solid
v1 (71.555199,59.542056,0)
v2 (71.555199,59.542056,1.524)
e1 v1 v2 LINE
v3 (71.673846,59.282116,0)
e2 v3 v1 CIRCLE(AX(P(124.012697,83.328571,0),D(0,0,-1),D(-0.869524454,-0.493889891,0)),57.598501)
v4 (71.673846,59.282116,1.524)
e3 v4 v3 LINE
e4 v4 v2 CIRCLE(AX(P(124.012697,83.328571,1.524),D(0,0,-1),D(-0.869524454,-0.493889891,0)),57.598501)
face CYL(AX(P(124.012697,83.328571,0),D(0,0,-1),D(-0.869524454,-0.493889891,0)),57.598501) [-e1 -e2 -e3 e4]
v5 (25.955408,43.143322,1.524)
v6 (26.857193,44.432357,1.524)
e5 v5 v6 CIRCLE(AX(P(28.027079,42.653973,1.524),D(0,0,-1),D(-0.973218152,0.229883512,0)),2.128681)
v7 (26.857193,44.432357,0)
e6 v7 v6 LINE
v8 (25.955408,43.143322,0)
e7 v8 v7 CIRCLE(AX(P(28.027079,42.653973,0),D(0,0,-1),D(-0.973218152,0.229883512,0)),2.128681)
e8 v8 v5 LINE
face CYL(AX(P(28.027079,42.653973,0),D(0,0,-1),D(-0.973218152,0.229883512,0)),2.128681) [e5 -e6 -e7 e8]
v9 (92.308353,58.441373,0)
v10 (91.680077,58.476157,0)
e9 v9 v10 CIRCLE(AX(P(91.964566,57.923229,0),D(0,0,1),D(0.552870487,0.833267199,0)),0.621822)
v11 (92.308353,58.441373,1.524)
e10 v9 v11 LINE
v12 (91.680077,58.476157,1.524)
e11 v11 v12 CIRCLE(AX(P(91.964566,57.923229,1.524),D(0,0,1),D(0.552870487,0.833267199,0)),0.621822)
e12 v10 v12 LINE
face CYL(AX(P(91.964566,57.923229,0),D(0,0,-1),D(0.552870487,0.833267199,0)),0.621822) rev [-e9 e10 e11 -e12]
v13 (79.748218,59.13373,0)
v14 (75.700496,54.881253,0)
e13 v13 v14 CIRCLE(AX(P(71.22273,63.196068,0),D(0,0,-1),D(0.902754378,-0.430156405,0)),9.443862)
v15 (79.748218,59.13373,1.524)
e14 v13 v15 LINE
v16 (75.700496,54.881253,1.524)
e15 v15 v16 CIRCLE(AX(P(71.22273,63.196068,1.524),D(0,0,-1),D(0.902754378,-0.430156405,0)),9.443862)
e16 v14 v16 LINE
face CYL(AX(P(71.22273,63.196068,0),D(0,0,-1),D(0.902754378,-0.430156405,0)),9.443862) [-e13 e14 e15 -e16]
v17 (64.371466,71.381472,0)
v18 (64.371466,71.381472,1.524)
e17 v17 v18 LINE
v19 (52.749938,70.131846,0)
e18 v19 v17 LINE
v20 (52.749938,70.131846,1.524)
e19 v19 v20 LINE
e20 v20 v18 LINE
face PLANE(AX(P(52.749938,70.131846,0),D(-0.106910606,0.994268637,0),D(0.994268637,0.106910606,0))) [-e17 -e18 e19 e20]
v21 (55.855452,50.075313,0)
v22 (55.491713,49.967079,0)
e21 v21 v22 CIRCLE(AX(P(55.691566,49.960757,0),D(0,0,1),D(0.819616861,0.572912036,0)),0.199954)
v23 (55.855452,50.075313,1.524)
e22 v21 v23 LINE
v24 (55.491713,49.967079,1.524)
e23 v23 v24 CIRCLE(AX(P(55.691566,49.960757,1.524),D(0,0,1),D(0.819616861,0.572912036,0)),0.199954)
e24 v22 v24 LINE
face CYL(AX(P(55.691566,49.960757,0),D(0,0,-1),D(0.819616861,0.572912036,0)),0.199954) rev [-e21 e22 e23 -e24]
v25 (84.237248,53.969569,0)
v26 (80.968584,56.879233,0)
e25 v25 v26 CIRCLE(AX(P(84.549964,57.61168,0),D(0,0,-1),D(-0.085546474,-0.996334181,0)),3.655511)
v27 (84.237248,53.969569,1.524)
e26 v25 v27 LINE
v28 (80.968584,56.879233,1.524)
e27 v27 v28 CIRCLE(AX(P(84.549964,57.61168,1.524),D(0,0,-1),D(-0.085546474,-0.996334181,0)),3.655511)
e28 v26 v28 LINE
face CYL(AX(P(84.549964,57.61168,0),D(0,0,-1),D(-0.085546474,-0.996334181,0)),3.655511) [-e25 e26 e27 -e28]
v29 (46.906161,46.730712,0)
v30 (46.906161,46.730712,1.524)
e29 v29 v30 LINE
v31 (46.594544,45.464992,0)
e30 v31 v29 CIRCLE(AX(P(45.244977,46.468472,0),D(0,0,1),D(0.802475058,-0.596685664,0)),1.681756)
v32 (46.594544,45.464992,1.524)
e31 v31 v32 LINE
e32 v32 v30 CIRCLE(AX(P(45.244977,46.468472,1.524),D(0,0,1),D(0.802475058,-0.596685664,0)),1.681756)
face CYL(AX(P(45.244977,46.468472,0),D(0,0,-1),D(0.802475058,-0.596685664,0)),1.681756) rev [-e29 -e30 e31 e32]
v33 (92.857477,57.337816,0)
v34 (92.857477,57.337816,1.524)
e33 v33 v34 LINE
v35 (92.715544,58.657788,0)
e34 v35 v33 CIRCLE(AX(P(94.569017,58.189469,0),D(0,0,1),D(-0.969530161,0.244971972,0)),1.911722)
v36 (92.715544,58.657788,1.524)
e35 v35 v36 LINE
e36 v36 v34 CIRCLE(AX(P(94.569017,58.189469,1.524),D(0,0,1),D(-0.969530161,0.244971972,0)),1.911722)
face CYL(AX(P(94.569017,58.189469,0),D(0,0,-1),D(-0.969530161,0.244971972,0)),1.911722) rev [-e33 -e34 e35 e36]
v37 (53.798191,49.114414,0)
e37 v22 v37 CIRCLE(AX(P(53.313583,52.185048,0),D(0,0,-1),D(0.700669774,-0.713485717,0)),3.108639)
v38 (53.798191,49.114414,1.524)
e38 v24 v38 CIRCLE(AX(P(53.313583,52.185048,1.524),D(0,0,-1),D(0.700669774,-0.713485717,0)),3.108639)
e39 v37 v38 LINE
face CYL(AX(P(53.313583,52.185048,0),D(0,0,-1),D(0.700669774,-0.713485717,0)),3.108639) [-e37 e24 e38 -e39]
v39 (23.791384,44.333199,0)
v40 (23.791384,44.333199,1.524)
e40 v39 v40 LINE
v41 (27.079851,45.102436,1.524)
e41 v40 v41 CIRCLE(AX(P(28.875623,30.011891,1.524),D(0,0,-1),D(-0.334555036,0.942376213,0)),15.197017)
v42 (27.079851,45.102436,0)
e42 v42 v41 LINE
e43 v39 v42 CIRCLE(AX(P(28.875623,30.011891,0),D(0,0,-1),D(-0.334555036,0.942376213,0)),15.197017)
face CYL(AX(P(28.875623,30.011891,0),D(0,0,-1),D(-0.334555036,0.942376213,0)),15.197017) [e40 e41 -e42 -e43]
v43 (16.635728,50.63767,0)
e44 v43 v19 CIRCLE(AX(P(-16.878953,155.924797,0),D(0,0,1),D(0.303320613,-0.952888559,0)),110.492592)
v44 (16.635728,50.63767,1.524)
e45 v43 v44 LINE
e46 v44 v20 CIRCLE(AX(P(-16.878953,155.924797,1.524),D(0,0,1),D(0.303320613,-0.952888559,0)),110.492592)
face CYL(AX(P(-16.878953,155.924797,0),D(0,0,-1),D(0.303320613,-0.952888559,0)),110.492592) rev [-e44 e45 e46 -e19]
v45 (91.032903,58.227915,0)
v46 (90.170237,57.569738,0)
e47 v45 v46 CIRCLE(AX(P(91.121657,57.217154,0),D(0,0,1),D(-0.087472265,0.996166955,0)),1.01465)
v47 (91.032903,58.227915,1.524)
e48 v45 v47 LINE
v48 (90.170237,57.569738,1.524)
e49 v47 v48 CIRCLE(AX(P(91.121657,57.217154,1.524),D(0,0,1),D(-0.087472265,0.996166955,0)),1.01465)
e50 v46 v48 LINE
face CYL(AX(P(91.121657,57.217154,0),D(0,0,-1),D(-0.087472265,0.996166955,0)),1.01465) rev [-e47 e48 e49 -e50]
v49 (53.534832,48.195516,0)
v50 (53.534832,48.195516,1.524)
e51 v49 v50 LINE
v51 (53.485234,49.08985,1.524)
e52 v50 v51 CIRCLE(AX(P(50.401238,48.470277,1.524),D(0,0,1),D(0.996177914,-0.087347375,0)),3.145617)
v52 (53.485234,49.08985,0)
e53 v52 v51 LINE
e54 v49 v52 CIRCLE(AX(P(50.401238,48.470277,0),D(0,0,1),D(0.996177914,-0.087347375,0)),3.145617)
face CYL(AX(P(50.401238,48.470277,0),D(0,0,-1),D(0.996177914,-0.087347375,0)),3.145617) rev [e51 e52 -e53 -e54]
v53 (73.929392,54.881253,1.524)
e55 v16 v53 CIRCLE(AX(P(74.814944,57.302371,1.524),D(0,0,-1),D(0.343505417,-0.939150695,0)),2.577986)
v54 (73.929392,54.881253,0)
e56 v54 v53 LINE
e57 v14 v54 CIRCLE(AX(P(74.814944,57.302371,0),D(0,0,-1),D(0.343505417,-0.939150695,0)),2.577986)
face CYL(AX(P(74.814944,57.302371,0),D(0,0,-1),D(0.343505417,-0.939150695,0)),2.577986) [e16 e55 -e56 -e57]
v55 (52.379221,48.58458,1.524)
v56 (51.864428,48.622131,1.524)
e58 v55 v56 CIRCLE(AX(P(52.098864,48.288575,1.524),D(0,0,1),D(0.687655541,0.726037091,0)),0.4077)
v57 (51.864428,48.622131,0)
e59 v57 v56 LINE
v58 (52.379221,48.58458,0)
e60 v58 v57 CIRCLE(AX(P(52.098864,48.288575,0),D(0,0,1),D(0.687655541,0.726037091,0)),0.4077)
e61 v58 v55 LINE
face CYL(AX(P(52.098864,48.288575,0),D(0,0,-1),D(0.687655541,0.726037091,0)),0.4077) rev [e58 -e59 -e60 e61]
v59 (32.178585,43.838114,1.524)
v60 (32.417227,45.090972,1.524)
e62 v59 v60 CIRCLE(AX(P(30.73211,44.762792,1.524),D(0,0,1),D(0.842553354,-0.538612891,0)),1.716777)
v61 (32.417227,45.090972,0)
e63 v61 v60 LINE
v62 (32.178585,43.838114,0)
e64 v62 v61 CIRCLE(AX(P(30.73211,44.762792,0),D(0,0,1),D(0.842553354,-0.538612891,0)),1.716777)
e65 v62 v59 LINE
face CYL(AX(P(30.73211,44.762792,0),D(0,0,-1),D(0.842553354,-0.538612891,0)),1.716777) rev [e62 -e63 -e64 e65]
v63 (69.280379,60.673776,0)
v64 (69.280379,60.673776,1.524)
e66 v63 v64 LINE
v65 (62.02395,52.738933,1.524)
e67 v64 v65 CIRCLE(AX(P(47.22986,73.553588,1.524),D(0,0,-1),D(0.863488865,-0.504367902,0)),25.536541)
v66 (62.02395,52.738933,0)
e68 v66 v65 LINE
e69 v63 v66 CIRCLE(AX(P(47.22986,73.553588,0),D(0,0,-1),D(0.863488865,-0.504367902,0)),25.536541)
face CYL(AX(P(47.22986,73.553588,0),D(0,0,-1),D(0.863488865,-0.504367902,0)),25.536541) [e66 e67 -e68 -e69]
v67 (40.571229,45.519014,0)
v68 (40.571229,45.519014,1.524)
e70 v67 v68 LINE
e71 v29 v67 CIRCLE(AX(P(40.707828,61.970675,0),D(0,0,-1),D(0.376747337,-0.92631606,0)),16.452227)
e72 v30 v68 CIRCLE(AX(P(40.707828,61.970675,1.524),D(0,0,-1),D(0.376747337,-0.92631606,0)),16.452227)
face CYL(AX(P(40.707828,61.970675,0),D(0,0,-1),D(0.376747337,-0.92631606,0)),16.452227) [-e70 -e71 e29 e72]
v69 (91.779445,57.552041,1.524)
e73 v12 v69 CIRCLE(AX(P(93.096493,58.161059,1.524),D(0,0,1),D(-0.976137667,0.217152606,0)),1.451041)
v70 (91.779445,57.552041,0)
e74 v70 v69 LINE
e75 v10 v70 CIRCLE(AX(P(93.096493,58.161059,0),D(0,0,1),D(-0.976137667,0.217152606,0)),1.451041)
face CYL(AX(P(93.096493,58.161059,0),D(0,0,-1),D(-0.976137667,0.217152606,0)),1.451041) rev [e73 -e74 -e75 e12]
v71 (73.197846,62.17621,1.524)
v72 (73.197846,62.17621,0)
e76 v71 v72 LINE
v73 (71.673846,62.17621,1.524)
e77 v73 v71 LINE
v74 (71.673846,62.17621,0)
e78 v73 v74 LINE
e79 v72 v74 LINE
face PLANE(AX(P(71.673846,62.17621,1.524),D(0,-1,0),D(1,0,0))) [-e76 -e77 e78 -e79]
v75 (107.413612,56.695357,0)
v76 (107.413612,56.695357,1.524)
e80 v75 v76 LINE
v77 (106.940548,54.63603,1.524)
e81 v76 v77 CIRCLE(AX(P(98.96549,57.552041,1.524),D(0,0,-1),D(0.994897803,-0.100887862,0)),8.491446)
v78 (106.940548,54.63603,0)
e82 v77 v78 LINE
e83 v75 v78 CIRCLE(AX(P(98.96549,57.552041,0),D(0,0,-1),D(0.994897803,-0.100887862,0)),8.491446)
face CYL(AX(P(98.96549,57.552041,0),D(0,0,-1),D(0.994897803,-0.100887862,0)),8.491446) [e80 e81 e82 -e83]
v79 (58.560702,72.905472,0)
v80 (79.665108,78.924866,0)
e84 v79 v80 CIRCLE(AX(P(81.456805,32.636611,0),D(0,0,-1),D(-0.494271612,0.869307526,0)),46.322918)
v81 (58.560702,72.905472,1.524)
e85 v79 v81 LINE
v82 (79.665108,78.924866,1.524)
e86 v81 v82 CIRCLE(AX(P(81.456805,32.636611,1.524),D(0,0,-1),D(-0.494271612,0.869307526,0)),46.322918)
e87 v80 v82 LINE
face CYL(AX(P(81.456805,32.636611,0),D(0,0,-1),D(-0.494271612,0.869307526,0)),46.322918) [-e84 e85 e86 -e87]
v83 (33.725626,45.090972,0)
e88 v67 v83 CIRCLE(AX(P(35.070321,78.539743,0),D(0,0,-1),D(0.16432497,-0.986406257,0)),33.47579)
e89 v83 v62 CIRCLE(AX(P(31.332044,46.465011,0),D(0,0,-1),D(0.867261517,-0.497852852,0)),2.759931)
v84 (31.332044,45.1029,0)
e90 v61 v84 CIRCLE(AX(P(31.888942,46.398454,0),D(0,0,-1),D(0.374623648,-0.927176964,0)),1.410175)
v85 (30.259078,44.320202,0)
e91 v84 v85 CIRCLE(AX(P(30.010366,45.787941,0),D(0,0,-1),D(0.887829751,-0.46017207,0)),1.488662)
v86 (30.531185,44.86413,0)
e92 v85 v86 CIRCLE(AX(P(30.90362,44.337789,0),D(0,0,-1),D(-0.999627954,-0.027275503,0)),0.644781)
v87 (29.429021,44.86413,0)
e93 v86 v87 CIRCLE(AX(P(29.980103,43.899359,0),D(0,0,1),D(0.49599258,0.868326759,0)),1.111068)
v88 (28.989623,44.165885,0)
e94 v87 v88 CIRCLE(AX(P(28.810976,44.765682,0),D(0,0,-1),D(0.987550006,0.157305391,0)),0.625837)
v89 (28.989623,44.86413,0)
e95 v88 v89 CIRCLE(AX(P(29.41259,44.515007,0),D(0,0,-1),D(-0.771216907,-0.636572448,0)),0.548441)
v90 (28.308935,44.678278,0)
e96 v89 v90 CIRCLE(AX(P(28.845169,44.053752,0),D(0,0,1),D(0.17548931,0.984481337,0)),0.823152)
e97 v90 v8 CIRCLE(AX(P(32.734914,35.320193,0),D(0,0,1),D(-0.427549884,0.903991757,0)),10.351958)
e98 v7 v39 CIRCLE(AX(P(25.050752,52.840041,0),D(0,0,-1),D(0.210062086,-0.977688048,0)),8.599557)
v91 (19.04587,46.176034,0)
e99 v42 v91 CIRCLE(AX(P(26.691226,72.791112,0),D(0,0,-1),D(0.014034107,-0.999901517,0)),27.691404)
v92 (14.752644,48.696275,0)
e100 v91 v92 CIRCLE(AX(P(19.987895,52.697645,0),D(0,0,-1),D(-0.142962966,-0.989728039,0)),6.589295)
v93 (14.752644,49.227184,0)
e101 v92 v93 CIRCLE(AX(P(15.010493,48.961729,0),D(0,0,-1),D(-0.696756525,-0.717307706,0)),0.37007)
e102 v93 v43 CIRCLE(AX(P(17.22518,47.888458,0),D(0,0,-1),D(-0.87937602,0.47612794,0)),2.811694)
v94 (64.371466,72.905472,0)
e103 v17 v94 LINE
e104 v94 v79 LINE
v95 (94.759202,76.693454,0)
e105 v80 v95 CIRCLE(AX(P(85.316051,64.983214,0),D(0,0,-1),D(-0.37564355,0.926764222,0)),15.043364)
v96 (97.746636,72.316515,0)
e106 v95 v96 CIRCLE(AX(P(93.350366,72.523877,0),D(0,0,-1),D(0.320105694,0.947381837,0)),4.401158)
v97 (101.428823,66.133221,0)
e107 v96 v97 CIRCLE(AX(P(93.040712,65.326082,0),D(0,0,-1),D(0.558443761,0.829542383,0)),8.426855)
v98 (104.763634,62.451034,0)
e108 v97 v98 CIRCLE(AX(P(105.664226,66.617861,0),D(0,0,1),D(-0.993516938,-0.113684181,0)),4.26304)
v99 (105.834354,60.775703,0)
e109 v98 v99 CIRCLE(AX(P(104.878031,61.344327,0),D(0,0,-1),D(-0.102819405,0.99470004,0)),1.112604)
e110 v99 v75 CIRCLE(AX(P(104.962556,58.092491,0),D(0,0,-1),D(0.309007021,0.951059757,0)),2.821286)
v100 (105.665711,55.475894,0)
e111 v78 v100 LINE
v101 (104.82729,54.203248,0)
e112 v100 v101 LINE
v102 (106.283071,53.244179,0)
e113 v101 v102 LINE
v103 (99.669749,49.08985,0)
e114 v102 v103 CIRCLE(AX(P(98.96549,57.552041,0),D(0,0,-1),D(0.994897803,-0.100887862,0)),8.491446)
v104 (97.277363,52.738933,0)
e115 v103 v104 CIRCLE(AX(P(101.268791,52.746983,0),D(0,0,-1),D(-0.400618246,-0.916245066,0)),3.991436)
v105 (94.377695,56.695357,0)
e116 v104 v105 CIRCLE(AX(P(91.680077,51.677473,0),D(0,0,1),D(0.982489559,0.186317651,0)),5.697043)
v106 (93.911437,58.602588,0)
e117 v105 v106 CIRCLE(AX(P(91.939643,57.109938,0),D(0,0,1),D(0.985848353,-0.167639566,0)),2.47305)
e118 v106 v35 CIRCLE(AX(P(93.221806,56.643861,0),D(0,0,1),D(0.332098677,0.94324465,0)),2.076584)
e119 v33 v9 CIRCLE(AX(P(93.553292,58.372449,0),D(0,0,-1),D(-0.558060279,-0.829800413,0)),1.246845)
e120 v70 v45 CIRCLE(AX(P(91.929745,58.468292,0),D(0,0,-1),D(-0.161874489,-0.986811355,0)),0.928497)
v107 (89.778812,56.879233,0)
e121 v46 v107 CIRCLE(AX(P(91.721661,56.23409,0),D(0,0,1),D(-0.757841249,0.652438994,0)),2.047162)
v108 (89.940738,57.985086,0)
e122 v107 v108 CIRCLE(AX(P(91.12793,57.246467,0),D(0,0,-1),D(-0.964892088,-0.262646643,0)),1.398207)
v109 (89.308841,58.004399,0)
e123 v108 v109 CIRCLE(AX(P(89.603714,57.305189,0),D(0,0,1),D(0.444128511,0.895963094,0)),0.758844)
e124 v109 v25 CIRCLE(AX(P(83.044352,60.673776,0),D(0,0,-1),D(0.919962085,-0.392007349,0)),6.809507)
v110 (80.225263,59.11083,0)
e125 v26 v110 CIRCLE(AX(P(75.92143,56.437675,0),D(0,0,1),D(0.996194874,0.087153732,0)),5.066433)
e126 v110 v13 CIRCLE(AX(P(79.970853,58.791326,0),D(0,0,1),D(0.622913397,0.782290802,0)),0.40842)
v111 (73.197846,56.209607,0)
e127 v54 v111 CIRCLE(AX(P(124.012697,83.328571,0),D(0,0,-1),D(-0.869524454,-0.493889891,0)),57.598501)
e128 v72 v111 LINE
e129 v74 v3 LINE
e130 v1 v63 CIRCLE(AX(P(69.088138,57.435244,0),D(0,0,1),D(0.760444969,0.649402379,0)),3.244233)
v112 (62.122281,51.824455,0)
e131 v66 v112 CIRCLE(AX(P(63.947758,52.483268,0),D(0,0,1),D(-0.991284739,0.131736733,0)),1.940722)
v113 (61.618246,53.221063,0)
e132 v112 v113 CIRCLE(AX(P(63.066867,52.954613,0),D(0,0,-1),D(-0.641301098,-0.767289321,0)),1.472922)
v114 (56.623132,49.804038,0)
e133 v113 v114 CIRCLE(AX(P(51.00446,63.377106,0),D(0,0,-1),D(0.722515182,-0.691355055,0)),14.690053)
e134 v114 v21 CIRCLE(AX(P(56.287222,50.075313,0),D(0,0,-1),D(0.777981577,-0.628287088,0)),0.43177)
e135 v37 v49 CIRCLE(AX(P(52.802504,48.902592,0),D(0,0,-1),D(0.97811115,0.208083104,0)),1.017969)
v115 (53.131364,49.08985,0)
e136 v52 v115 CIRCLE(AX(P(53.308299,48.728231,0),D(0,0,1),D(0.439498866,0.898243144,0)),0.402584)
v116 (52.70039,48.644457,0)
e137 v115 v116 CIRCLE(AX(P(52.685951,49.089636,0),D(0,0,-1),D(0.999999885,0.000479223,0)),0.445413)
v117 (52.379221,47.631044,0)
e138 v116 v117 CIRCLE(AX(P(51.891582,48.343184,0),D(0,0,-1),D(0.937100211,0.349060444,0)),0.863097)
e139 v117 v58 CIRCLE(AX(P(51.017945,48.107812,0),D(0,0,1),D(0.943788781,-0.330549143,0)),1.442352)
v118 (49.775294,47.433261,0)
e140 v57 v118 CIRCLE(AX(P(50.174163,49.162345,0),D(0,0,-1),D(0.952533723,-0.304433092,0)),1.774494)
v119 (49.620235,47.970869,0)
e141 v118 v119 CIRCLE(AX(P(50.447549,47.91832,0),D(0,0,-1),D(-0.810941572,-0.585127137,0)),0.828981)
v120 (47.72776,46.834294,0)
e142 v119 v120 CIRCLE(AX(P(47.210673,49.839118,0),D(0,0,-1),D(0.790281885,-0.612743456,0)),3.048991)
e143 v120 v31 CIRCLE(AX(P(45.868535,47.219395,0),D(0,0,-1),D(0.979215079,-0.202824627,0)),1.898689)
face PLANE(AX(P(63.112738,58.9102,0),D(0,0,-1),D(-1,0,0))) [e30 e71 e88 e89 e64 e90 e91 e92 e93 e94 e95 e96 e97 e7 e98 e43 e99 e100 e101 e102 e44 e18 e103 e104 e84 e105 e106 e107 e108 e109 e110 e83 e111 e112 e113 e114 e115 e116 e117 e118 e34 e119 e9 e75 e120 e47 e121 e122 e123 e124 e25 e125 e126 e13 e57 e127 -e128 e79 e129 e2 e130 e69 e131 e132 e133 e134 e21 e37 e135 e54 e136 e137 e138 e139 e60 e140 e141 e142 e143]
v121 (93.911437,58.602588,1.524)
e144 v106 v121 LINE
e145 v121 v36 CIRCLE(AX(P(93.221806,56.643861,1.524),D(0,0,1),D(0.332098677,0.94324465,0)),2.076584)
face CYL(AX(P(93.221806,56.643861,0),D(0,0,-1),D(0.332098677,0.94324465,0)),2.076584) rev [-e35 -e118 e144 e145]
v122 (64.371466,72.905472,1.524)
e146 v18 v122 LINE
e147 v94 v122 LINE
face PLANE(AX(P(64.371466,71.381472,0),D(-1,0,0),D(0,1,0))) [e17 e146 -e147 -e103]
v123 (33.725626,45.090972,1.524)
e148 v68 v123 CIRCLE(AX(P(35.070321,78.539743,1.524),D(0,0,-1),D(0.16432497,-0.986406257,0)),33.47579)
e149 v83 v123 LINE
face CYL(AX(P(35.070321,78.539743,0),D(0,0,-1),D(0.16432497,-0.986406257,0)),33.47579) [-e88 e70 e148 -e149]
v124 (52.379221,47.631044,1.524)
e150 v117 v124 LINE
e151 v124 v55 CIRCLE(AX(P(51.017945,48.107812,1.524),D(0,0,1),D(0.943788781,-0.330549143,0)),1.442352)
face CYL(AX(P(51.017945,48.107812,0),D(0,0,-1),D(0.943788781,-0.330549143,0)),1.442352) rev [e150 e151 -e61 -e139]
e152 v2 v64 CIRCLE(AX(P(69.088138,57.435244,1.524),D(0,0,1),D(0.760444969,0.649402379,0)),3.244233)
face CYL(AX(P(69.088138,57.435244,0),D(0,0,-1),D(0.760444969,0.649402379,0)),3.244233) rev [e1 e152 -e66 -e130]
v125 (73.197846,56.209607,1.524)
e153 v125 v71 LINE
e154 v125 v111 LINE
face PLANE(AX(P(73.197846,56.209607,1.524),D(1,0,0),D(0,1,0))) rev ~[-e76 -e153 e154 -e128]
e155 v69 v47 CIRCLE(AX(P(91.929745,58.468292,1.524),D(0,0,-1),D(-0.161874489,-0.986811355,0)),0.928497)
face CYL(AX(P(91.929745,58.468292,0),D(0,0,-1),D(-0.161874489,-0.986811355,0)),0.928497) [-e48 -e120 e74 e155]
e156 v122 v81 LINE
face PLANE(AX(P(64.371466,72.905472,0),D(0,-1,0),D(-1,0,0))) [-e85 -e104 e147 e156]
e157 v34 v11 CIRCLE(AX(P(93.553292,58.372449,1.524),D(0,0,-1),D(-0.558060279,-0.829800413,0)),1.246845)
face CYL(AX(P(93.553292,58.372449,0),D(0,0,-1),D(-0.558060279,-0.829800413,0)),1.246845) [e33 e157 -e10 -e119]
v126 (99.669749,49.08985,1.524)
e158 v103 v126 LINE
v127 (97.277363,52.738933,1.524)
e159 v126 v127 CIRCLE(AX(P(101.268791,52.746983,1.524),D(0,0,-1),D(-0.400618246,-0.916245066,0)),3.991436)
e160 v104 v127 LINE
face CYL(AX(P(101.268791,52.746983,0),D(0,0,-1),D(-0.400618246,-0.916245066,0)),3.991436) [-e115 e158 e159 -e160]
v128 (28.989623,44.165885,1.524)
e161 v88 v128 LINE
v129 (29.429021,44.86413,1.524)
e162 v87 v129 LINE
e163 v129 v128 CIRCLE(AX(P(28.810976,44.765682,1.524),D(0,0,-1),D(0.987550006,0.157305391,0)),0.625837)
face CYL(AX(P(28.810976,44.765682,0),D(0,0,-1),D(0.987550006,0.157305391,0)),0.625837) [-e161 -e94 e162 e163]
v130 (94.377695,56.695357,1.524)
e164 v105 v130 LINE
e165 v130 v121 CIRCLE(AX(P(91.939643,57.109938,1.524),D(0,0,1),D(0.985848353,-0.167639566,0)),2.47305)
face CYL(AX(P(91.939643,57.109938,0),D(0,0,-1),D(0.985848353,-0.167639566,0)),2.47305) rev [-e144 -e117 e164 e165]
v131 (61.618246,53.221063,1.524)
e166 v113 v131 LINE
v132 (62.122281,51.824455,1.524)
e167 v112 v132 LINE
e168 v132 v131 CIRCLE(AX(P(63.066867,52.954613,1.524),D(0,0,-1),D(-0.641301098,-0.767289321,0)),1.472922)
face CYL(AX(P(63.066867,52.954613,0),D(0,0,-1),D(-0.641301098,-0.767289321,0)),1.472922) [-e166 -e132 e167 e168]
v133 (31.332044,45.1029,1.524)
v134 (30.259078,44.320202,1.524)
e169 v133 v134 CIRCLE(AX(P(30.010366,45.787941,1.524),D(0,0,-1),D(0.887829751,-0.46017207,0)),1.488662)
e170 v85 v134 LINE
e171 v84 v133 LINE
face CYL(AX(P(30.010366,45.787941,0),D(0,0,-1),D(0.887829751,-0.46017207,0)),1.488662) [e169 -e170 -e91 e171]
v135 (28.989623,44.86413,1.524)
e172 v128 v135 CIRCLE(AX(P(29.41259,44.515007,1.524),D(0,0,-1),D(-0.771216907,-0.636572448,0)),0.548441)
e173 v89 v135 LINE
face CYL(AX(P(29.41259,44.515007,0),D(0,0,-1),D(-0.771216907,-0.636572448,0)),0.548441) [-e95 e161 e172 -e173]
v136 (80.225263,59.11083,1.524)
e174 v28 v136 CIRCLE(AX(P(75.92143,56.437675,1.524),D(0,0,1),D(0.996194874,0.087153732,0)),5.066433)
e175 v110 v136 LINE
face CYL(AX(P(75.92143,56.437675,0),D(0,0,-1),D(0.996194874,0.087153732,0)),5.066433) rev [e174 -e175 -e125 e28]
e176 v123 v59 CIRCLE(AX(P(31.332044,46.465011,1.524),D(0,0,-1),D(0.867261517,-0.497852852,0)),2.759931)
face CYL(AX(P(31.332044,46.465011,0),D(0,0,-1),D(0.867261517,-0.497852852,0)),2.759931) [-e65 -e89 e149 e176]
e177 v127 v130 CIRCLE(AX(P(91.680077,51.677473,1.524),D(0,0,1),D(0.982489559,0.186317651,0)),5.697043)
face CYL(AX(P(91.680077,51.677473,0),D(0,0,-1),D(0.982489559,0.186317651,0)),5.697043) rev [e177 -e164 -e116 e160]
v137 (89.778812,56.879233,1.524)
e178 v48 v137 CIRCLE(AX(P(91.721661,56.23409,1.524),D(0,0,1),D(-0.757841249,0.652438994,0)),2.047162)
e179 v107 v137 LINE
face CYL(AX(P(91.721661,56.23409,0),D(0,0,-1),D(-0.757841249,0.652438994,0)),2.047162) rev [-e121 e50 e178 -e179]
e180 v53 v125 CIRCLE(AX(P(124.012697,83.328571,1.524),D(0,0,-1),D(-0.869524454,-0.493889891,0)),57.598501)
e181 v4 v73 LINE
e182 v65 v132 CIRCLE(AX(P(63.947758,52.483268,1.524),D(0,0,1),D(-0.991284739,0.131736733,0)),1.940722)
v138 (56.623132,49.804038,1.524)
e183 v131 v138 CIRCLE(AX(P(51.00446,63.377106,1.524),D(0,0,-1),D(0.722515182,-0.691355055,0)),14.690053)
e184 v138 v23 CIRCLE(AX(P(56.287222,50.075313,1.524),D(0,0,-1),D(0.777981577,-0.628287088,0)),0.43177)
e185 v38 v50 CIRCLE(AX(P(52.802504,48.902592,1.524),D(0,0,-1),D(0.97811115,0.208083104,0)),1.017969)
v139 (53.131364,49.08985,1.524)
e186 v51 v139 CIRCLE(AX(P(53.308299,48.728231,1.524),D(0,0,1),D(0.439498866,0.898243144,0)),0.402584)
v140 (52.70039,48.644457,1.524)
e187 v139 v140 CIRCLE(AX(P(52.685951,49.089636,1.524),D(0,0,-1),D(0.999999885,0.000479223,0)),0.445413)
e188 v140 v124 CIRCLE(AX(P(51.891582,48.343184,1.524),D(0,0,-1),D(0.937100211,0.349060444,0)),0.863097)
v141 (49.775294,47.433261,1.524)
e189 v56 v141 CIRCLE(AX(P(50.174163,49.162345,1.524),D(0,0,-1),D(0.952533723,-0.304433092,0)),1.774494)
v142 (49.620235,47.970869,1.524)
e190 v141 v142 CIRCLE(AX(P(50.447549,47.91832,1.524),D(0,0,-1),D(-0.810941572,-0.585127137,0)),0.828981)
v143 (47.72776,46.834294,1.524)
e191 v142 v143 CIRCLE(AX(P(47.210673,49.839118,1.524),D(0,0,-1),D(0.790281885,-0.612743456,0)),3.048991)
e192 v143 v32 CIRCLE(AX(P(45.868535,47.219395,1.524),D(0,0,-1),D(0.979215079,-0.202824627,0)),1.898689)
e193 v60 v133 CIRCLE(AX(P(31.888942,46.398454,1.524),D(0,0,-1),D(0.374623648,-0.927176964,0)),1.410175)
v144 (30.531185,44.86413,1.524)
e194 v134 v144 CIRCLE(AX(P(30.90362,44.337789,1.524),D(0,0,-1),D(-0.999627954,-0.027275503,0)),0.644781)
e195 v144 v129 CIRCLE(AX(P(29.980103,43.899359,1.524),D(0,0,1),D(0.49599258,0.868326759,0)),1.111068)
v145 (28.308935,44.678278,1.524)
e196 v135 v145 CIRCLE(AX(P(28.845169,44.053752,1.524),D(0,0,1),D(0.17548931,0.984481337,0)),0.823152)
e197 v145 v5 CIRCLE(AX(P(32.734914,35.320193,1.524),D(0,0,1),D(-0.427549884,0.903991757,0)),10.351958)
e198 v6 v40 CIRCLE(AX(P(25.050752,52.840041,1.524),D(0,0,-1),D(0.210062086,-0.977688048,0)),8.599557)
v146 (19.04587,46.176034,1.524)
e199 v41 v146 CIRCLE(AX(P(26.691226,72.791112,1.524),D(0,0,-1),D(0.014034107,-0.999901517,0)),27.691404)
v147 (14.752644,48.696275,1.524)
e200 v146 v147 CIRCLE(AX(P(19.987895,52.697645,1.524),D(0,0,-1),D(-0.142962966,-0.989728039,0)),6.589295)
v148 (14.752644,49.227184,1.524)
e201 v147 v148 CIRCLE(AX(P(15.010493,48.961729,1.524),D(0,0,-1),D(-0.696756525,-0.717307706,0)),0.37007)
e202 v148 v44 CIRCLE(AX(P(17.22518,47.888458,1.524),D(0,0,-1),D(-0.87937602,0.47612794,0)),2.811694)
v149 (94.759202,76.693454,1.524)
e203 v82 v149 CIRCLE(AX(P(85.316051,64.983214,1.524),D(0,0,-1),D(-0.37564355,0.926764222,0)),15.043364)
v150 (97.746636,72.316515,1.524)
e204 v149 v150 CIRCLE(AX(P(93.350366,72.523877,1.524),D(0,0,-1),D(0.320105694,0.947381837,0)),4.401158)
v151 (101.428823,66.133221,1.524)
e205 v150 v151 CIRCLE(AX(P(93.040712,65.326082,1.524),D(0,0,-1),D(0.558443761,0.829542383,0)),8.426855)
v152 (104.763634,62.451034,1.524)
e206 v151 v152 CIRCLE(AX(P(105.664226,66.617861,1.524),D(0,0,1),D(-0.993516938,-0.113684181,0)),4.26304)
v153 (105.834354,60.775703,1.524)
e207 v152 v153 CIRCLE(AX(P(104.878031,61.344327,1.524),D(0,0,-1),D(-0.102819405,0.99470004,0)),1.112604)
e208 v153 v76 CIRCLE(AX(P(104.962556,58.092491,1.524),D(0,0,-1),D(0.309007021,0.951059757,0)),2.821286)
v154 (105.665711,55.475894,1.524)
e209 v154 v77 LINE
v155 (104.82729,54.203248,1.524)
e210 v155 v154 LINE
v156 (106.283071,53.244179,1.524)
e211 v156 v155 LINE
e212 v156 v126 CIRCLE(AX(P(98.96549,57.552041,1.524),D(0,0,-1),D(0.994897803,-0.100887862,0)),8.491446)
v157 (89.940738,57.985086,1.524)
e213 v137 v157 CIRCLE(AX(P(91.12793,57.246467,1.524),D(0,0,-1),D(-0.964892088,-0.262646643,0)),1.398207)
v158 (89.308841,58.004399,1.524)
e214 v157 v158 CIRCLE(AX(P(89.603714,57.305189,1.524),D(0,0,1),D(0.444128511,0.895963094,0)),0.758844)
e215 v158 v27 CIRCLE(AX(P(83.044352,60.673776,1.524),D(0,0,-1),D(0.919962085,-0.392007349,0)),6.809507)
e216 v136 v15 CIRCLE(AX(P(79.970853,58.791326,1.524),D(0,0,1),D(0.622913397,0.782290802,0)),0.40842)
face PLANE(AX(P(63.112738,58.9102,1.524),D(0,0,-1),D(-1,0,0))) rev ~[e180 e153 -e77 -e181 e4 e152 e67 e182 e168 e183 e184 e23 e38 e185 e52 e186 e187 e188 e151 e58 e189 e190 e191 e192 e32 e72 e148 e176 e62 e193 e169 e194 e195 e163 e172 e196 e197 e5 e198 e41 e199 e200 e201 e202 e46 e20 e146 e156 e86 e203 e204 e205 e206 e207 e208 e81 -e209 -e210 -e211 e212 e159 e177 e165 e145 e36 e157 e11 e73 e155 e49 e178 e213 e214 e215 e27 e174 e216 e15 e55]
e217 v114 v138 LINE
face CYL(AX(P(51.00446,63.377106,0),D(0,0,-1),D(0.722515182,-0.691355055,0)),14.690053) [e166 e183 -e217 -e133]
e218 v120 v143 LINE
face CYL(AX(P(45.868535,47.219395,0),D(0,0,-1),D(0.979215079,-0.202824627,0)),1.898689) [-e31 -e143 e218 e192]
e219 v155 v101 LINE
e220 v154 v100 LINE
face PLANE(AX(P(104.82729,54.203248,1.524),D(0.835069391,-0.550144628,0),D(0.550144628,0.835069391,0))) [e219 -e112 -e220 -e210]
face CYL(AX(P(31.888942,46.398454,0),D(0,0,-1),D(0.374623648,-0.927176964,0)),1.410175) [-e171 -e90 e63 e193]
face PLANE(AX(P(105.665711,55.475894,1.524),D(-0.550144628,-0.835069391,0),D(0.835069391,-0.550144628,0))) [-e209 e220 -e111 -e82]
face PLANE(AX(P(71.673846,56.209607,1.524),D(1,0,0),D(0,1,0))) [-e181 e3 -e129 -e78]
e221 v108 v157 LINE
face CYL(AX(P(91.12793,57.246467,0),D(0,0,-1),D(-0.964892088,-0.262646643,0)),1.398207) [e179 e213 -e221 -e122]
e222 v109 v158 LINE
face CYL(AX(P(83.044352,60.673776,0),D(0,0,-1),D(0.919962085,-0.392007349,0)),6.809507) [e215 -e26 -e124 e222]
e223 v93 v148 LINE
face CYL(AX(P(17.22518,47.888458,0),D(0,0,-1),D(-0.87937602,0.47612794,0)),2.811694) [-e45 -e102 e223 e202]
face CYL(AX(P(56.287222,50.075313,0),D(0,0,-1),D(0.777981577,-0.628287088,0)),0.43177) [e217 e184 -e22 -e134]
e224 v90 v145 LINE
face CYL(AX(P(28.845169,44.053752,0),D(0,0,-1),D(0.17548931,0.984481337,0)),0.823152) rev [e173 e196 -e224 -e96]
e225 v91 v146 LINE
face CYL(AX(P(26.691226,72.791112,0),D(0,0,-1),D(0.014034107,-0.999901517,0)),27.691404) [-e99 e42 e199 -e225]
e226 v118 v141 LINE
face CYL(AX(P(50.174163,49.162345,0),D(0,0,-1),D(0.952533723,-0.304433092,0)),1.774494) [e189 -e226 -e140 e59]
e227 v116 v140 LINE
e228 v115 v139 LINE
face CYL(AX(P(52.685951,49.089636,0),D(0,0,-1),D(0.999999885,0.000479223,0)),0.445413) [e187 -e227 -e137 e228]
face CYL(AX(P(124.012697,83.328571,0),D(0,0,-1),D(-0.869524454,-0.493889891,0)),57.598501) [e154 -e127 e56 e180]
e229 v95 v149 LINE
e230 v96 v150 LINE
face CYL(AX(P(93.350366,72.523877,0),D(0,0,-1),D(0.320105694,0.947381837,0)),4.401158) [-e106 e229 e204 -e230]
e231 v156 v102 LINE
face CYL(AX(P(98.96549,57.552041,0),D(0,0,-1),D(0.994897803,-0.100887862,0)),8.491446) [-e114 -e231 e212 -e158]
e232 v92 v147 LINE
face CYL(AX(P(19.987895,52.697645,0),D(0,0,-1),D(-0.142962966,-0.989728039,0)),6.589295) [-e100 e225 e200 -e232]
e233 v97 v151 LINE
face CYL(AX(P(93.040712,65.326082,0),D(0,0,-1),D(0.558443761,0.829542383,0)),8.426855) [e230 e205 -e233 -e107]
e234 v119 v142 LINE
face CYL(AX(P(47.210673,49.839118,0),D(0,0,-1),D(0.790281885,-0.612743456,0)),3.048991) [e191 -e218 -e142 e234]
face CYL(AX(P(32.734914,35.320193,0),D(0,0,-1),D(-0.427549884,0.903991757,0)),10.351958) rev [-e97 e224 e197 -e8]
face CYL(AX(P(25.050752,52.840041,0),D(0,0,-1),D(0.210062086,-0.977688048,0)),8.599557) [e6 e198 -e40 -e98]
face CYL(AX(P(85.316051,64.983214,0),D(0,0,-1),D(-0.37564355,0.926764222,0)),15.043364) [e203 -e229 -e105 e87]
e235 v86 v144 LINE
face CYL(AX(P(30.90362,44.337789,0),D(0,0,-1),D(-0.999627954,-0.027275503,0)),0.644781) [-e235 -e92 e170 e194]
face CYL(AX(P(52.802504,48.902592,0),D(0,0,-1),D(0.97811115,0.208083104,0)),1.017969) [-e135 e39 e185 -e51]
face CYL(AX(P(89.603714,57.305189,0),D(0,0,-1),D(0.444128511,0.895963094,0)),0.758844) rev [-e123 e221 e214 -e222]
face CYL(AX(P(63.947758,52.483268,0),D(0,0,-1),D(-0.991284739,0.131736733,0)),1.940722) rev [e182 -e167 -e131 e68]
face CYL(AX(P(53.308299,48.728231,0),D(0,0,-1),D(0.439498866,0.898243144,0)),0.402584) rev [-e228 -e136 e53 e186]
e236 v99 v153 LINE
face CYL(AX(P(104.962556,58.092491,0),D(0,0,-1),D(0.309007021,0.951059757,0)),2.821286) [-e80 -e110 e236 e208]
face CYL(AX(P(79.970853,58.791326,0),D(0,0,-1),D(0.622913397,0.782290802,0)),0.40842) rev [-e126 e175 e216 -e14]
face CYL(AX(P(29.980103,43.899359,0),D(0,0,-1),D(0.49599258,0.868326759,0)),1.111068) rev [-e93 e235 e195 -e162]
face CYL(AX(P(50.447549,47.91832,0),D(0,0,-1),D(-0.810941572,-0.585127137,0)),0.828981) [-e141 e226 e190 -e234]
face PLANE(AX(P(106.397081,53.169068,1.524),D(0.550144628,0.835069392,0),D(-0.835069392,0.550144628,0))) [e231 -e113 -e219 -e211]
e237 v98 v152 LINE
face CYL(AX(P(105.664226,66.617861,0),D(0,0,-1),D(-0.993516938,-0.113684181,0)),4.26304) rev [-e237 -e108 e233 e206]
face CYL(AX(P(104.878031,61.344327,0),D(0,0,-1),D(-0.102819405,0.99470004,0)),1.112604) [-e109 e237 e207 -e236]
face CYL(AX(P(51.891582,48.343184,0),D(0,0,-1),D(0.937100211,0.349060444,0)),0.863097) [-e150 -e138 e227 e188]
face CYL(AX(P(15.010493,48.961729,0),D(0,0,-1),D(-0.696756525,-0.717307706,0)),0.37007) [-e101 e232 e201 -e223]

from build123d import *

# Parameters (mm, degrees)
BOSS_EXTRUDE1_DEPTH = 1.524
SKETCH2_W           = 1.524
SKETCH2_H           = 5.96660367
CUT_EXTRUDE3_DEPTH  = 135.253240476


with BuildPart() as part:
    # Sketch1 → Boss-Extrude1 (new body)
    with BuildSketch(Plane.XY):
        with BuildLine():
            Line((52.749938031, 70.131845749), (64.371465794, 71.381472391))
            Line((64.371465794, 71.381472391), (64.371465794, 72.905472391))
            Line((64.371465794, 72.905472391), (58.560701913, 72.905472391))
            ThreePointArc((58.560701913, 72.905472391), (68.751288874, 77.18302052), (79.665108288, 78.924866217))
            ThreePointArc((79.665108288, 78.924866217), (87.51605356, 79.864840631), (94.759202069, 76.693453987))
            ThreePointArc((94.759202069, 76.693453987), (96.985502082, 75.005001445), (97.746636466, 72.316515219))
            ThreePointArc((97.746636466, 72.316515219), (100.280996817, 69.637712422), (101.428823049, 66.133220769))
            ThreePointArc((101.428823049, 66.133220769), (102.504441665, 63.756169776), (104.763633539, 62.451034186))
            ThreePointArc((104.763633539, 62.451034186), (105.815523966, 61.94348794), (105.834353574, 60.775702811))
            ThreePointArc((105.834353574, 60.775702811), (107.593647808, 59.110829557), (107.413611762, 56.69535731))
            ThreePointArc((107.413611762, 56.69535731), (104.915486102, 51.493806045), (99.669748601, 49.089849838))
            ThreePointArc((99.669748601, 49.089849838), (97.93078373, 50.558543058), (97.277362732, 52.738932839))
            ThreePointArc((97.277362732, 52.738932839), (96.275148178, 55.045205965), (94.377694548, 56.69535731))
            ThreePointArc((94.377694548, 56.69535731), (94.341947265, 57.697226126), (93.911436782, 58.602587774))
            ThreePointArc((93.911436782, 58.602587774), (93.31755476, 58.718236433), (92.715544448, 58.657787675))
            ThreePointArc((92.715544448, 58.657787675), (92.668251349, 57.985085863), (92.857476868, 57.337816162))
            ThreePointArc((92.857476868, 57.337816162), (92.437007408, 57.816991843), (92.308352921, 58.441373075))
            ThreePointArc((92.308352921, 58.441373075), (91.998939648, 58.544100362), (91.680077423, 58.476156637))
            ThreePointArc((91.680077423, 58.476156637), (91.653768646, 58.005927685), (91.779444676, 57.552041185))
            ThreePointArc((91.779444676, 57.552041185), (91.306585055, 57.779976677), (91.03290283, 58.22791512))
            ThreePointArc((91.03290283, 58.22791512), (90.50619799, 58.023829811), (90.170237064, 57.569738347))
            ThreePointArc((90.170237064, 57.569738347), (89.940738286, 57.243637966), (89.778811712, 56.879233065))
            ThreePointArc((89.778811712, 56.879233065), (89.744476135, 57.449042317), (89.940738286, 57.985085863))
            ThreePointArc((89.940738286, 57.985085863), (89.626896453, 58.063679483), (89.308840631, 58.00439924))
            ThreePointArc((89.308840631, 58.00439924), (87.283822401, 55.344960061), (84.23724791, 53.969569406))
            ThreePointArc((84.23724791, 53.969569406), (82.119422653, 54.881253432), (80.968584276, 56.879233065))
            ThreePointArc((80.968584276, 56.879233065), (80.728221934, 58.038765282), (80.225263479, 59.110829557))
            ThreePointArc((80.225263479, 59.110829557), (79.990436789, 59.199276584), (79.74821764, 59.133730156))
            ThreePointArc((79.74821764, 59.133730156), (78.063200875, 56.684963047), (75.700496179, 54.881253432))
            ThreePointArc((75.700496179, 54.881253432), (74.814943925, 54.724384759), (73.92939167, 54.881253432))
            ThreePointArc((73.92939167, 54.881253432), (72.689360724, 57.184690211), (71.555199225, 59.542056419))
            ThreePointArc((71.555199225, 59.542056419), (70.53318823, 60.33987445), (69.280379472, 60.673776077))
            ThreePointArc((69.280379472, 60.673776077), (66.074534091, 56.320096732), (62.023949735, 52.738932839))
            ThreePointArc((62.023949735, 52.738932839), (62.018158819, 52.275784748), (62.122280661, 51.824455233))
            ThreePointArc((62.122280661, 51.824455233), (61.681410811, 52.454602529), (61.618245883, 53.221063245))
            ThreePointArc((61.618245883, 53.221063245), (59.29856558, 51.252524719), (56.623131886, 49.804037512))
            ThreePointArc((56.623131886, 49.804037512), (56.143365032, 49.668212915), (55.855452098, 50.075313269))
            ThreePointArc((55.855452098, 50.075313269), (55.634539123, 50.152406549), (55.491712516, 49.967078524))
            ThreePointArc((55.491712516, 49.967078524), (54.711546462, 49.408479108), (53.79819099, 49.114414214))
            ThreePointArc((53.79819099, 49.114414214), (53.781075658, 48.622130566), (53.534831875, 48.19551584))
            ThreePointArc((53.534831875, 48.19551584), (53.542028616, 48.644457223), (53.48523445, 49.089849838))
            ThreePointArc((53.48523445, 49.089849838), (53.3082991, 49.130815552), (53.13136375, 49.089849838))
            ThreePointArc((53.13136375, 49.089849838), (53.00604404, 48.779905646), (52.700390386, 48.644457223))
            ThreePointArc((52.700390386, 48.644457223), (52.714349204, 48.082434529), (52.379221144, 47.631043855))
            ThreePointArc((52.379221144, 47.631043855), (52.460297524, 48.107812169), (52.379221144, 48.584580484))
            ThreePointArc((52.379221144, 48.584580484), (52.12852371, 48.695194866), (51.864428363, 48.622130566))
            ThreePointArc((51.864428363, 48.622130566), (51.051818187, 47.620090335), (49.775293704, 47.433261089))
            ThreePointArc((49.775293704, 47.433261089), (49.651036263, 47.688587532), (49.62023506, 47.970868935))
            ThreePointArc((49.62023506, 47.970868935), (48.780471907, 47.225294105), (47.727759637, 46.834294287))
            ThreePointArc((47.727759637, 46.834294287), (47.331273993, 46.008852436), (46.594544028, 45.464992092))
            ThreePointArc((46.594544028, 45.464992092), (46.877970347, 46.066432963), (46.906161005, 46.730712185))
            ThreePointArc((46.906161005, 46.730712185), (43.798654282, 45.811386919), (40.571228797, 45.519014346))
            ThreePointArc((40.571228797, 45.519014346), (37.159419224, 45.129203066), (33.725626021, 45.090971596))
            ThreePointArc((33.725626021, 45.090971596), (33.068999074, 44.320201948), (32.178585471, 43.838114389))
            ThreePointArc((32.178585471, 43.838114389), (32.418564973, 44.441560177), (32.417226894, 45.090971596))
            ThreePointArc((32.417226894, 45.090971596), (31.873442168, 44.988363543), (31.332044302, 45.102899962))
            ThreePointArc((31.332044302, 45.102899962), (30.887683341, 44.585264996), (30.259078376, 44.320201948))
            ThreePointArc((30.259078376, 44.320201948), (30.326970235, 44.626264328), (30.531184649, 44.864129748))
            ThreePointArc((30.531184649, 44.864129748), (29.980102952, 45.010427729), (29.429021254, 44.864129748))
            ThreePointArc((29.429021254, 44.864129748), (29.340661001, 44.432357132), (28.989623083, 44.165884794))
            ThreePointArc((28.989623083, 44.165884794), (28.864149038, 44.515007271), (28.989623083, 44.864129748))
            ThreePointArc((28.989623083, 44.864129748), (28.628355518, 44.84783713), (28.30893512, 44.678277961))
            ThreePointArc((28.30893512, 44.678277961), (27.079850519, 43.991023465), (25.955408412, 43.143322074))
            ThreePointArc((25.955408412, 43.143322074), (26.282852866, 43.874201462), (26.857193183, 44.432357132))
            ThreePointArc((26.857193183, 44.432357132), (25.328745526, 44.244978672), (23.791384091, 44.333198545))
            ThreePointArc((23.791384091, 44.333198545), (25.414182464, 44.809450383), (27.079850519, 45.102435547))
            ThreePointArc((27.079850519, 45.102435547), (23.023366565, 45.343696153), (19.045869652, 46.176034458))
            ThreePointArc((19.045869652, 46.176034458), (16.652090777, 47.015108036), (14.752643777, 48.696275152))
            ThreePointArc((14.752643777, 48.696275152), (14.640422349, 48.961729487), (14.752643777, 49.227183822))
            ThreePointArc((14.752643777, 49.227183822), (15.539561177, 50.138860369), (16.635728101, 50.637670147))
            ThreePointArc((16.635728101, 50.637670147), (35.605852794, 58.693330375), (52.749938031, 70.131845749))
        make_face()
    extrude(amount=BOSS_EXTRUDE1_DEPTH)

    # Sketch2 → Cut-Extrude3 (cut, through all)
    with BuildSketch(Plane.XY.offset(1.524)):
        with Locations((72.435845658, 59.192908392)):
            Rectangle(SKETCH2_W, SKETCH2_H)
        Polygon((106.940547802, 54.636029996), (106.397081003, 53.169068481), (104.827290354, 54.203248276), (105.665710767, 55.475894028), align=None)
    extrude(amount=-CUT_EXTRUDE3_DEPTH, mode=Mode.SUBTRACT)


with BuildPart() as cut_extrude3_kept_piece:
    # of the separate pieces the step leaves, the one the design keeps (cut_extrude3_pieces_kept)
    add(part.part.solids().sort_by_distance((16.635728101, 50.637670147, 0))[0])


solid = cut_extrude3_kept_piece.part
